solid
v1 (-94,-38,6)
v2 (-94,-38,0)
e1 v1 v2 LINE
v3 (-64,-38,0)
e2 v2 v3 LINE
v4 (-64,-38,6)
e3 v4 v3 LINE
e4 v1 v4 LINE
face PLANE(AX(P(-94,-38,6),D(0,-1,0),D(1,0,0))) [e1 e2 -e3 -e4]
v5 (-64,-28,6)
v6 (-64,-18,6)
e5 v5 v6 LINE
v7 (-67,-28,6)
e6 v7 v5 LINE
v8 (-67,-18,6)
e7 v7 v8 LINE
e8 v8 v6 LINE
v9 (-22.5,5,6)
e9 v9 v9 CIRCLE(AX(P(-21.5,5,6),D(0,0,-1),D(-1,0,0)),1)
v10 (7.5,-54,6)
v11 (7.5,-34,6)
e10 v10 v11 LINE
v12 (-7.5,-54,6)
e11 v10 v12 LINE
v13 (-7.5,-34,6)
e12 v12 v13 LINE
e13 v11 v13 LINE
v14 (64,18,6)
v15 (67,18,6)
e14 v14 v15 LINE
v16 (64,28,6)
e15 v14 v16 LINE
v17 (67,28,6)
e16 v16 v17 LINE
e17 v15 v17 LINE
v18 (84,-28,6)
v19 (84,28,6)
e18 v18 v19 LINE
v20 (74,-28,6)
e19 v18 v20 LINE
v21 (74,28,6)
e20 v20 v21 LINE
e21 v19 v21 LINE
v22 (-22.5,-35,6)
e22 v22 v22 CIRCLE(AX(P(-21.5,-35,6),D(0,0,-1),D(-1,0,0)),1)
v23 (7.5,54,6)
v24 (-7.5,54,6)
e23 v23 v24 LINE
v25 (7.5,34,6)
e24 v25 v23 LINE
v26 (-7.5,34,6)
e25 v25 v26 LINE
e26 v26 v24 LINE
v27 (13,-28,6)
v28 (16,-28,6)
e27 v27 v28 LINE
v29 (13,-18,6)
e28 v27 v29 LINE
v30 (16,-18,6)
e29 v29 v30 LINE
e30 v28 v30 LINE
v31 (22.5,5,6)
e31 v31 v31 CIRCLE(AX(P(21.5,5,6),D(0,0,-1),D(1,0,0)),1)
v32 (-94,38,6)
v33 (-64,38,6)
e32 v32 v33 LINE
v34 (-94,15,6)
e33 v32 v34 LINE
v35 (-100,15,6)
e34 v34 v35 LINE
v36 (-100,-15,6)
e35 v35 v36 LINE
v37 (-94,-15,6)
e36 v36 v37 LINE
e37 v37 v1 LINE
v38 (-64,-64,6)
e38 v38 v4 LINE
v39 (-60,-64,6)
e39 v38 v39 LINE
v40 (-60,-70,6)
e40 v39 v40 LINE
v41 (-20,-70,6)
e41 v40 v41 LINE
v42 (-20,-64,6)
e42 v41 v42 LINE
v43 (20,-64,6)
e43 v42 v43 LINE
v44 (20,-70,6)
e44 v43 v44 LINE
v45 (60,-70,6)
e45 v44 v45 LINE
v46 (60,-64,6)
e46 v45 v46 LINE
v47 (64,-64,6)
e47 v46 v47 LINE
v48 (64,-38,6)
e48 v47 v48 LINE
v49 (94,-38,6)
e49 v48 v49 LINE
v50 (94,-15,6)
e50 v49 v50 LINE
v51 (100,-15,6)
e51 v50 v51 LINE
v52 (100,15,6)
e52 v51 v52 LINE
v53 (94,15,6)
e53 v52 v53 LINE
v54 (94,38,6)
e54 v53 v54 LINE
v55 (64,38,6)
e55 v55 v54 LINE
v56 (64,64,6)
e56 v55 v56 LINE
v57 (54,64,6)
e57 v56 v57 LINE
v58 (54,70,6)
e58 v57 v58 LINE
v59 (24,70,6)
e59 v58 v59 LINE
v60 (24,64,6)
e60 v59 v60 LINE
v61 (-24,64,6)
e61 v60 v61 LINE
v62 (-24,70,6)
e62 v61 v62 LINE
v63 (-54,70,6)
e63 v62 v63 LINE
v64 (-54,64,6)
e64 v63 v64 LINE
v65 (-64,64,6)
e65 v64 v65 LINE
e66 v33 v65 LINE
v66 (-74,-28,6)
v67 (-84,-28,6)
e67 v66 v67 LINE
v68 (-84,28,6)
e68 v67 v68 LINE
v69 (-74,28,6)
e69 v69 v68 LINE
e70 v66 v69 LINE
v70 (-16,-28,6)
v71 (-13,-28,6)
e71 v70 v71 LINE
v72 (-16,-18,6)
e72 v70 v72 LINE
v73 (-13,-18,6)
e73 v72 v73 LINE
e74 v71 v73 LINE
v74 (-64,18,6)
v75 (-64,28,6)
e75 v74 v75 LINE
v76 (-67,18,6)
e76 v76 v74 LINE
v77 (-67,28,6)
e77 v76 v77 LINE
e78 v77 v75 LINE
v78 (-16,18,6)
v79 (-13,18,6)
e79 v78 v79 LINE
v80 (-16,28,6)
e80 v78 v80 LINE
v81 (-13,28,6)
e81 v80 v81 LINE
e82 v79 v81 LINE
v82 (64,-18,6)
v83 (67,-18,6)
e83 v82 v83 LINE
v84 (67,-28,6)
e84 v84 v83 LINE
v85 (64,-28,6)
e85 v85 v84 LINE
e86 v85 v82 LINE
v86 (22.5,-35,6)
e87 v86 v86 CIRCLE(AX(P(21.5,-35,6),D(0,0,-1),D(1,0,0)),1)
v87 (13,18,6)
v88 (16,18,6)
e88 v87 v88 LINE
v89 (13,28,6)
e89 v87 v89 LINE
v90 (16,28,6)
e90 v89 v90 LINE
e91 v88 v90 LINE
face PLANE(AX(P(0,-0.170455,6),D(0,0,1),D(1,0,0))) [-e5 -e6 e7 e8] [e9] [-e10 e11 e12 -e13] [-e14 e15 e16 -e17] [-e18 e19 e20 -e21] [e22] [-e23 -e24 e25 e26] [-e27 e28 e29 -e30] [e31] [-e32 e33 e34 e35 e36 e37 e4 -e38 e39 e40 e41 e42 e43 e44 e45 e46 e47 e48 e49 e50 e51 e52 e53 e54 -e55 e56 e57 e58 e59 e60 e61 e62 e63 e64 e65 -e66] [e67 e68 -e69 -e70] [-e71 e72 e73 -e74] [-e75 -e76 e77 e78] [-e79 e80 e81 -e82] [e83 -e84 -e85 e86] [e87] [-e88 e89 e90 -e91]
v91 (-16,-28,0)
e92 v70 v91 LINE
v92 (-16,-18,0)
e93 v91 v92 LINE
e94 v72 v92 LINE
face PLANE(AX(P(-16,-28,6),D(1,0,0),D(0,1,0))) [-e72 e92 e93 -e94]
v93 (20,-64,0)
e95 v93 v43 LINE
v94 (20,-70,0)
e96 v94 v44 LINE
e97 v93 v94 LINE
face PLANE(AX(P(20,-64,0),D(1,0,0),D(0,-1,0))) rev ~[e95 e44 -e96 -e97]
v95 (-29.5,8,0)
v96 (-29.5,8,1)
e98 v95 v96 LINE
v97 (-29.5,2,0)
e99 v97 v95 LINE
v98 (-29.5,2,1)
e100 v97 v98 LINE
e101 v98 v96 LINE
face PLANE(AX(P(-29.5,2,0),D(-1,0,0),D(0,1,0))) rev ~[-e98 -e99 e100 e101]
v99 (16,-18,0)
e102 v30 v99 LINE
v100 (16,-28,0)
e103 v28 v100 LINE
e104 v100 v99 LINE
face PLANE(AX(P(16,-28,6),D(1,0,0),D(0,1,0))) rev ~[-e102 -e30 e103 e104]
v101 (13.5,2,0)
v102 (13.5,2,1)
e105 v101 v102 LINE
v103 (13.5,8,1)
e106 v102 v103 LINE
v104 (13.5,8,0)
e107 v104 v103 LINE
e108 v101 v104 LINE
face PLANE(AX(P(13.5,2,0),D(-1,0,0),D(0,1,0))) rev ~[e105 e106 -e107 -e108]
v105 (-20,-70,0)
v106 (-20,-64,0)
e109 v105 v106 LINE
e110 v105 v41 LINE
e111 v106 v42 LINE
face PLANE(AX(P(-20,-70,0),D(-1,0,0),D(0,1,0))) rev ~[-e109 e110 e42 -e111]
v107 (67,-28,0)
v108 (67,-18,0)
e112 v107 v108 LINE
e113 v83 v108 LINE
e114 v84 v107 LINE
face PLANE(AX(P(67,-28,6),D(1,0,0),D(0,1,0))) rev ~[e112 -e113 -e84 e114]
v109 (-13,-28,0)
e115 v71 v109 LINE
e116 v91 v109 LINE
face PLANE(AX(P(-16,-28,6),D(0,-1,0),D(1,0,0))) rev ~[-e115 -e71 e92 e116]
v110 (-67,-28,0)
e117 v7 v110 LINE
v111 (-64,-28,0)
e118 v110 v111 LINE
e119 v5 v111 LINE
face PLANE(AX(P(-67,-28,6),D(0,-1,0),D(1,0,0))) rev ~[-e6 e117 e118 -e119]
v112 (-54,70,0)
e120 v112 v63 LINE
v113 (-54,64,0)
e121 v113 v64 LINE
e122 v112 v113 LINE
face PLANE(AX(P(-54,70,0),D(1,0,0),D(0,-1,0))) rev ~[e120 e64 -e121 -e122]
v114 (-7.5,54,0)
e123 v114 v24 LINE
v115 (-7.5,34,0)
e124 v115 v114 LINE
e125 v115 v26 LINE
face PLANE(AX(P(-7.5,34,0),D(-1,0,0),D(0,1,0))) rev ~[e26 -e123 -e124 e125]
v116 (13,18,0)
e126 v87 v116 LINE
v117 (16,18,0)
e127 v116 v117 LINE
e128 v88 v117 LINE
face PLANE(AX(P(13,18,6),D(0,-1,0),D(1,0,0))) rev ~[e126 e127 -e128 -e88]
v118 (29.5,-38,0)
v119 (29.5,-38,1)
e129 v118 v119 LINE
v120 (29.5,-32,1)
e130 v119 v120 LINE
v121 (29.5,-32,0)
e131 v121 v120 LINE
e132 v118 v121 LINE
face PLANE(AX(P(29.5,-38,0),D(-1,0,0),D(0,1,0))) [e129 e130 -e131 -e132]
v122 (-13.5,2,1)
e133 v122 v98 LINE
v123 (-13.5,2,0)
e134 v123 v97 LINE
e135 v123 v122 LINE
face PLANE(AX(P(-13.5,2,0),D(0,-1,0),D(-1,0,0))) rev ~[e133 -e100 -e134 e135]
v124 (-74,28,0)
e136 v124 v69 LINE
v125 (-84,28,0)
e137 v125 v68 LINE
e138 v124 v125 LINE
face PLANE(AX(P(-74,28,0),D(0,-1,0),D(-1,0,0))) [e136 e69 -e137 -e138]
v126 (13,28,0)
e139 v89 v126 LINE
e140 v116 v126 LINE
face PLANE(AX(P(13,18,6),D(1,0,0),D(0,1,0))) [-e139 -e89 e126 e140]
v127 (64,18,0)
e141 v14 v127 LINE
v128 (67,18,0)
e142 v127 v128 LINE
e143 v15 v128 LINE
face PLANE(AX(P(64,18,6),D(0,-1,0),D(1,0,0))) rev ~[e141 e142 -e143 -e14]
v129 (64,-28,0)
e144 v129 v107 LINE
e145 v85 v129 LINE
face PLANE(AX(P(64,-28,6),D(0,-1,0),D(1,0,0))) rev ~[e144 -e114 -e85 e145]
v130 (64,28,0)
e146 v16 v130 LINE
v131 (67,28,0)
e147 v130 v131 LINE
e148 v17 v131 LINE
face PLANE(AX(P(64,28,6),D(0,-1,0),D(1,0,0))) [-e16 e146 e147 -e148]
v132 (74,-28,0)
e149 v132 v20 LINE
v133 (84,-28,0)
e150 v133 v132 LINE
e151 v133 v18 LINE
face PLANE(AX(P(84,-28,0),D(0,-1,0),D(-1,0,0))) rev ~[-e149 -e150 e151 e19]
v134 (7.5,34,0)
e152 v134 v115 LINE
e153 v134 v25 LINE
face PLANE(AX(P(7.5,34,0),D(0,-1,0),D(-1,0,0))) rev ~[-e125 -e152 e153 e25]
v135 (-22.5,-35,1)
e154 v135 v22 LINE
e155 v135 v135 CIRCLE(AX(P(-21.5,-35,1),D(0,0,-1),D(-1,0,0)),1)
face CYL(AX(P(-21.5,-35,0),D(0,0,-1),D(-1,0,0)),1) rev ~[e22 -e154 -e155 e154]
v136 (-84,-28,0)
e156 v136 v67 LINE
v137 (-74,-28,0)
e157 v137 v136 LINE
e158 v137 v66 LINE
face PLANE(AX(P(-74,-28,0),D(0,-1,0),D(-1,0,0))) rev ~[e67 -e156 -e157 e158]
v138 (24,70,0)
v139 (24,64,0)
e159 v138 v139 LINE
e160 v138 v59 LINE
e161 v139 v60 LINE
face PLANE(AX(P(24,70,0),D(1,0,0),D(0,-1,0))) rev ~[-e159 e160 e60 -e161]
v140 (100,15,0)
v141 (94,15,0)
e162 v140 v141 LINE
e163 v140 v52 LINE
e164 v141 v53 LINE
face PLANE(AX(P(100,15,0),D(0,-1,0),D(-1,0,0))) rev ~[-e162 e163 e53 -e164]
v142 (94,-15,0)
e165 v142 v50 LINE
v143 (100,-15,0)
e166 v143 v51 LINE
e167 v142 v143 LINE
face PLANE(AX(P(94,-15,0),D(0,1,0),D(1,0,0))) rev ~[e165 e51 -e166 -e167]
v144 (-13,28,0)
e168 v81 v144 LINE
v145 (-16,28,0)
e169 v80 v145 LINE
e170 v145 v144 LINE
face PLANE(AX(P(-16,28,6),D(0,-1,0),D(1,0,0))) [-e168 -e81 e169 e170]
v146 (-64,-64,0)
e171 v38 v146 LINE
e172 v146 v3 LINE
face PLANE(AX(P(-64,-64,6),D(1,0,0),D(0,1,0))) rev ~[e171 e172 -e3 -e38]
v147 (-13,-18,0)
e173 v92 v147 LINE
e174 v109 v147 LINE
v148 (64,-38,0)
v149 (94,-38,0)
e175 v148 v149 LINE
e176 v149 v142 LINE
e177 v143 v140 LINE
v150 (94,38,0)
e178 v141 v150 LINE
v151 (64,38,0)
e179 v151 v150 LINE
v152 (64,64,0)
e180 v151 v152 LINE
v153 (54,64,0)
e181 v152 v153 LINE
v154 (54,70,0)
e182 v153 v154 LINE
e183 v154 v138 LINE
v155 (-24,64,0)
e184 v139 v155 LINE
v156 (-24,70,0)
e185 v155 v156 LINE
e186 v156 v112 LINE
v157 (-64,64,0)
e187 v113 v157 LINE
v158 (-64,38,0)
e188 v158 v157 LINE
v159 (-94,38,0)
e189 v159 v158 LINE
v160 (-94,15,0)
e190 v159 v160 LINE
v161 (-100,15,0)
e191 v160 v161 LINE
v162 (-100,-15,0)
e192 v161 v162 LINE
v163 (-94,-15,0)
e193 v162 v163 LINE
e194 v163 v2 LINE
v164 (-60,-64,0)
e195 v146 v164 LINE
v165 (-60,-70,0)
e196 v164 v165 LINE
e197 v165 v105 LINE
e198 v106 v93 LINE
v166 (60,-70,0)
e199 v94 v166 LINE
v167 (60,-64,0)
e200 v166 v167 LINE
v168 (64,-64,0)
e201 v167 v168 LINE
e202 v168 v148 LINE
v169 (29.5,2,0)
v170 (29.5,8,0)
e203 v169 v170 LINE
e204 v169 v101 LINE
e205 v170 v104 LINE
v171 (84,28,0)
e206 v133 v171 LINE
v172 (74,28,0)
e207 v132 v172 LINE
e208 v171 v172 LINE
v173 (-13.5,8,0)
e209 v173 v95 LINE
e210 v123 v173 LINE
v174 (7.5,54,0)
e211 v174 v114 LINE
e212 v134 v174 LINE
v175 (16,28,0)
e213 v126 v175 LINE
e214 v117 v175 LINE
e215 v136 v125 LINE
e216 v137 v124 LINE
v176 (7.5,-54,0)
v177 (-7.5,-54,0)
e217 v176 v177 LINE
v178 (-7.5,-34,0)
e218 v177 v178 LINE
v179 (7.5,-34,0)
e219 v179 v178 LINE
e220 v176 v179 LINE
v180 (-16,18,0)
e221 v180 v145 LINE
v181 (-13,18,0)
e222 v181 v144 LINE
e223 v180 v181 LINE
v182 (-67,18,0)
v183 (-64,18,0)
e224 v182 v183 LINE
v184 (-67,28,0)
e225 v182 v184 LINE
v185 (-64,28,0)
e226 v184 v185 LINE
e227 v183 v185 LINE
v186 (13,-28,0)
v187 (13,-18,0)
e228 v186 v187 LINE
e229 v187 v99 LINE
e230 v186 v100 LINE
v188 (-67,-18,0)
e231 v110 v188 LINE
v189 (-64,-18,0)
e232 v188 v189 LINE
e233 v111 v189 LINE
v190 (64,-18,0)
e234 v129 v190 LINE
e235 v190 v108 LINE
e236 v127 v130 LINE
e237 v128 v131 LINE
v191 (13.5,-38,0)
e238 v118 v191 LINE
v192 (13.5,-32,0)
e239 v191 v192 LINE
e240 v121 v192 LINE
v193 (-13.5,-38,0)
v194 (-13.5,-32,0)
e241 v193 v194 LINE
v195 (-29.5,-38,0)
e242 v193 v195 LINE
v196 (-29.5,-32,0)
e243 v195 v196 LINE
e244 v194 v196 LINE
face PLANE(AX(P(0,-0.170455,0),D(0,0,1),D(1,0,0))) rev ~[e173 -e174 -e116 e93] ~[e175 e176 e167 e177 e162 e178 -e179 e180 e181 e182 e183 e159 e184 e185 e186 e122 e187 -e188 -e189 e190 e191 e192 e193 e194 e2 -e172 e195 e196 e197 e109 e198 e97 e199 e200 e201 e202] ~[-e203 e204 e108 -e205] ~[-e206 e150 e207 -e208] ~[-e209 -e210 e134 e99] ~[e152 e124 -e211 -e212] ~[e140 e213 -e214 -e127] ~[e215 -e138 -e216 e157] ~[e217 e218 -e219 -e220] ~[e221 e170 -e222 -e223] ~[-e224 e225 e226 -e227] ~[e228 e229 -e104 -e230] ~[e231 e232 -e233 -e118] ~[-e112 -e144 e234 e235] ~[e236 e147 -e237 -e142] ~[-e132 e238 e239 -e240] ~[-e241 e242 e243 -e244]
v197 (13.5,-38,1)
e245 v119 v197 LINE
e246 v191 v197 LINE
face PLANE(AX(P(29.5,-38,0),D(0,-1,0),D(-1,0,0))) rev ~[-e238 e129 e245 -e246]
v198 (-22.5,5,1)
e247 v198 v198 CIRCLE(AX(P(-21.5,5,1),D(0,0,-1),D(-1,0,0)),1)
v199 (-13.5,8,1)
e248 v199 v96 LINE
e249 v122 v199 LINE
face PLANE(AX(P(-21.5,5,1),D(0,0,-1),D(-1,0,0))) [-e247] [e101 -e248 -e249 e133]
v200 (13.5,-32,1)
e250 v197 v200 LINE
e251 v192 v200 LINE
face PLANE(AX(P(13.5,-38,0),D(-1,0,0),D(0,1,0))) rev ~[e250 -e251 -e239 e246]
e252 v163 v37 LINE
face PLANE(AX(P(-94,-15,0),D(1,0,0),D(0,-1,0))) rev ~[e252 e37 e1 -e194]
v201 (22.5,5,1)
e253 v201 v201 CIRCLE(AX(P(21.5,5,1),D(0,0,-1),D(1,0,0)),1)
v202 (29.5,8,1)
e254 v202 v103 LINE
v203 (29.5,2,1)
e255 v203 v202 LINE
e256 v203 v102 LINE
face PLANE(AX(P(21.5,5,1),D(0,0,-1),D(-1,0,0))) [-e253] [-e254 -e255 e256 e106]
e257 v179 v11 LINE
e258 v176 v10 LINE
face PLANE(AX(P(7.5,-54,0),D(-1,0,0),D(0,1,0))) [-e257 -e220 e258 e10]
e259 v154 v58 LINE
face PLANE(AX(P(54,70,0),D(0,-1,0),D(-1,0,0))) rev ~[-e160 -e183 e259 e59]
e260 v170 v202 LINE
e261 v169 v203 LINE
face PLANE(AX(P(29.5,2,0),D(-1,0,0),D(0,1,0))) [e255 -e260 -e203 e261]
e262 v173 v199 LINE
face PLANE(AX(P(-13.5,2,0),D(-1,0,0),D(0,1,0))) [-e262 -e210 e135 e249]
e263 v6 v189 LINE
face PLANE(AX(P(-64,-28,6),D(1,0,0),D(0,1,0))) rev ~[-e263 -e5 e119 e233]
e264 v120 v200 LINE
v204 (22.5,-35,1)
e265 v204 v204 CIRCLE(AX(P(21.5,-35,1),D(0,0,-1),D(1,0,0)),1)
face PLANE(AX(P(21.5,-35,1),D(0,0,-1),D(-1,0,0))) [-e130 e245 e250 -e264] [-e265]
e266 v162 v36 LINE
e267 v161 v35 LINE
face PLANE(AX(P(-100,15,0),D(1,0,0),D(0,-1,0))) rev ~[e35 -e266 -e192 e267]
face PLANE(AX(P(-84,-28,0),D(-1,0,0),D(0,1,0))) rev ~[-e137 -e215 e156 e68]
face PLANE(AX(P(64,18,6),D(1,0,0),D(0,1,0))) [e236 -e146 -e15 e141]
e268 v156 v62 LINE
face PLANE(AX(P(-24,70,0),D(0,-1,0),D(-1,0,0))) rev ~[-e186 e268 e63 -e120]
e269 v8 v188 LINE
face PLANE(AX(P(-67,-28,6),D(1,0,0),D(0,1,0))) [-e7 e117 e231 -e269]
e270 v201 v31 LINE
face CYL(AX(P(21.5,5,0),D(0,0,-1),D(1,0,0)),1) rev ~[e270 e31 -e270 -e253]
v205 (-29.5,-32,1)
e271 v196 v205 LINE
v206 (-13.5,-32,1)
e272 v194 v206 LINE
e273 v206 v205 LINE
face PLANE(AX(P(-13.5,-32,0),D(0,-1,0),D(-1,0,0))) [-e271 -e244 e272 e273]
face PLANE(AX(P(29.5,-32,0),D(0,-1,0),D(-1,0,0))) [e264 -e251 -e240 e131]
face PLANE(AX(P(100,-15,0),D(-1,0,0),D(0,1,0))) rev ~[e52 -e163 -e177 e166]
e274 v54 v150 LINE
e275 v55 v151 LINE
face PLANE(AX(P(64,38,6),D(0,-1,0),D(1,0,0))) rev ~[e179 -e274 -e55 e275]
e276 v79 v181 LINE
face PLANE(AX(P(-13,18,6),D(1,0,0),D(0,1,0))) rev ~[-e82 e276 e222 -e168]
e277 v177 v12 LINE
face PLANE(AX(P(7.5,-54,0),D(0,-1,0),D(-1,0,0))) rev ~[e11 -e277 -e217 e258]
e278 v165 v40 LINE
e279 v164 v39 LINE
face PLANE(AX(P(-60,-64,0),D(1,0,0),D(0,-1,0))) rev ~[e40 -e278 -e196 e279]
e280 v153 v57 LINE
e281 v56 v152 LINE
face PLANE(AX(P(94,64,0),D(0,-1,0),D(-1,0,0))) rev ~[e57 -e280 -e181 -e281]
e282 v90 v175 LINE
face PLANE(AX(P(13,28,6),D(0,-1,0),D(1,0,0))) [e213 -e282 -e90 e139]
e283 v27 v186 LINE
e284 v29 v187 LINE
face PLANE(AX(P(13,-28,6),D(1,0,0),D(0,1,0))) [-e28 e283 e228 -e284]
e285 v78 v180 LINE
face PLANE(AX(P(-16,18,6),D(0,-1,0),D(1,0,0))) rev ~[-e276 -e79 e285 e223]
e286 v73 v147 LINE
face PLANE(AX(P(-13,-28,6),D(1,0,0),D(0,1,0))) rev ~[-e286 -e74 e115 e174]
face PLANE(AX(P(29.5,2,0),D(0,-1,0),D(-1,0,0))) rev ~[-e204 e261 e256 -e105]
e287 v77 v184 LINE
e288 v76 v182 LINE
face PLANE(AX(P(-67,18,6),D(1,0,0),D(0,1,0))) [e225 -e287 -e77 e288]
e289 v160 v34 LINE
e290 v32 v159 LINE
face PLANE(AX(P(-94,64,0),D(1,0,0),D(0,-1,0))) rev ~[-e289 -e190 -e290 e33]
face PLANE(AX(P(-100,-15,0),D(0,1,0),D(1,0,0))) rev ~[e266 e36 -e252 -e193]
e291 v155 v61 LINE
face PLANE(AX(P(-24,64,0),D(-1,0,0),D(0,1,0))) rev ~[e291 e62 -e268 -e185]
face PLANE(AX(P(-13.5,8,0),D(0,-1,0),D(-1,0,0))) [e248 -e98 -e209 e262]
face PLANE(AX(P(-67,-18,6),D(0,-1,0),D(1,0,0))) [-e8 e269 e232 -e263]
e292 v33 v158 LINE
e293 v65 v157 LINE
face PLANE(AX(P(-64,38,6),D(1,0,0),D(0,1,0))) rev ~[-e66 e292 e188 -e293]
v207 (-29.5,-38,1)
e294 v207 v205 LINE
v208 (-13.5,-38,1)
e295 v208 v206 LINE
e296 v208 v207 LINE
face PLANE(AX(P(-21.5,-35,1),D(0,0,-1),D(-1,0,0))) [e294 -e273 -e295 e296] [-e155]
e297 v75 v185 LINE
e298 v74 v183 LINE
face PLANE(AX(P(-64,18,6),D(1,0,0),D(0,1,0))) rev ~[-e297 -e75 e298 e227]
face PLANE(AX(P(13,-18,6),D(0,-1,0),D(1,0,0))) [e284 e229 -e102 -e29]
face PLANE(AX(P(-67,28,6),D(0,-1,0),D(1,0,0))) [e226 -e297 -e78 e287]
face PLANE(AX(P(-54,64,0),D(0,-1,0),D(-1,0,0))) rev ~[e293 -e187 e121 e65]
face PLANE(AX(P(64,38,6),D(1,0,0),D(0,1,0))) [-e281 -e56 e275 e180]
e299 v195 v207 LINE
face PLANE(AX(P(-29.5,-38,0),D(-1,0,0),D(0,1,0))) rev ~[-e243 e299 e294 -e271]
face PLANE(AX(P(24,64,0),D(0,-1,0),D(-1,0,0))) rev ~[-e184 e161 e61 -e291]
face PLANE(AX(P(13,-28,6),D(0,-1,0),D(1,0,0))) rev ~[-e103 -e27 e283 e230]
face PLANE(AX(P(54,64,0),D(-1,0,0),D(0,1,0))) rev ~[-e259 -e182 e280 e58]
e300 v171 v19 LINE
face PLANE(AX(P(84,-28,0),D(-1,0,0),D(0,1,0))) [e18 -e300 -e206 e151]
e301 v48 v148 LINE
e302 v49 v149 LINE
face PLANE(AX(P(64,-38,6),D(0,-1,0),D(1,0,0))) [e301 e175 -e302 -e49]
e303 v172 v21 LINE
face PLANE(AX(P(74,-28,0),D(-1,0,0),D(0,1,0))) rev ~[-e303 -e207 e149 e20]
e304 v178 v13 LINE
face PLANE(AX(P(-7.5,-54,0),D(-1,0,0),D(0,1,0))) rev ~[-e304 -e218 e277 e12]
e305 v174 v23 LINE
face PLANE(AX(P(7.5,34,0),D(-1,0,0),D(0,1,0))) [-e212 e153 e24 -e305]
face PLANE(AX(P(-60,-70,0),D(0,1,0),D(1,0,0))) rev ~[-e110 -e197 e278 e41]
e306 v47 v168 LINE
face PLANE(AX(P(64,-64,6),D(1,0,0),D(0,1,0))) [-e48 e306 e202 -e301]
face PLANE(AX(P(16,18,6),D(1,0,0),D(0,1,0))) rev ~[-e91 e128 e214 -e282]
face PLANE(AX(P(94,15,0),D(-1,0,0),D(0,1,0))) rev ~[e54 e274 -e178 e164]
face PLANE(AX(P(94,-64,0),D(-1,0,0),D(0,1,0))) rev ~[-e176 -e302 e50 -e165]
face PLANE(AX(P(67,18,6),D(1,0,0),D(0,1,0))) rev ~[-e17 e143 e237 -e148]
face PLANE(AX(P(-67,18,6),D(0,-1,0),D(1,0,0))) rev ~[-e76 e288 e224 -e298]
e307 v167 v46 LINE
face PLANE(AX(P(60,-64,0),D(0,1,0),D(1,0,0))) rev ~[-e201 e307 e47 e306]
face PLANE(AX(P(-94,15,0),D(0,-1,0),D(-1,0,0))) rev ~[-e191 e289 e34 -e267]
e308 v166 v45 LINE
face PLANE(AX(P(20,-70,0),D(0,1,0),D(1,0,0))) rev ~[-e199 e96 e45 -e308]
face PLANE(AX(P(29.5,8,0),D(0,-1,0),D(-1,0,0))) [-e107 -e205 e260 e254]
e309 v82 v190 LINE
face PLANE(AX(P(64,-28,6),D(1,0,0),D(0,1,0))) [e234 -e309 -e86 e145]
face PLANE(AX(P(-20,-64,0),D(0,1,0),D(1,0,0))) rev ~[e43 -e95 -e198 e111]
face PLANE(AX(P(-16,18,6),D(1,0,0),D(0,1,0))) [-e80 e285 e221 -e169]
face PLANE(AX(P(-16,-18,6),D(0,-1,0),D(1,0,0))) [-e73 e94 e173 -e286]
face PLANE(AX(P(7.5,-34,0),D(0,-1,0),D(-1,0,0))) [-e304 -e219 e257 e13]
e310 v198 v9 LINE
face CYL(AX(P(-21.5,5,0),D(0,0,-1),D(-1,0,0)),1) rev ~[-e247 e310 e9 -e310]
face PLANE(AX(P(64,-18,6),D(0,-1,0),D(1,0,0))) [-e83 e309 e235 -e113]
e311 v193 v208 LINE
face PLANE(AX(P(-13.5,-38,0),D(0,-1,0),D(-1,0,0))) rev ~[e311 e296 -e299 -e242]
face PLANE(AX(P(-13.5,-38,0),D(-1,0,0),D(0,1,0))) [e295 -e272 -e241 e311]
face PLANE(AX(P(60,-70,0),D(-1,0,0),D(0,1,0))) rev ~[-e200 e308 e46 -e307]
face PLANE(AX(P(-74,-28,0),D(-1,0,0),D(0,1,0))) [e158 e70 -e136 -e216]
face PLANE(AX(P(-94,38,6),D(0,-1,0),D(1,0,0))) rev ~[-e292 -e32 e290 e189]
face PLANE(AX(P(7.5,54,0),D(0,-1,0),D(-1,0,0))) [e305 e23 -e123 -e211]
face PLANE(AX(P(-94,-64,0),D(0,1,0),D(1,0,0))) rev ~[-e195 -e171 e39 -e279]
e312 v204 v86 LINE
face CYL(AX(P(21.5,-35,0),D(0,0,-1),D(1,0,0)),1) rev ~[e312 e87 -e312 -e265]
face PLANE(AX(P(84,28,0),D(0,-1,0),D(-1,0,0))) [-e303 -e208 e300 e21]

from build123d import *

# Parameters (mm, degrees)
BOSS_EXTRU_3_DEPTH      = 6
ESQUISSE2_W             = 3
ESQUISSE2_H             = 10
ENL_V_MAT_EXTRU_1_DEPTH = 10
ESQUISSE3_W             = 30
ESQUISSE3_H             = 26
ENL_V_MAT_EXTRU_2_DEPTH = 6
ESQUISSE4_W             = 15
ESQUISSE4_H             = 20
ENL_V_MAT_EXTRU_3_DEPTH = 6
ESQUISSE5_W             = 10
ESQUISSE5_H             = 56
ENL_V_MAT_EXTRU_4_DEPTH = 6
ESQUISSE6_R             = 1
ENL_V_MAT_EXTRU_5_DEPTH = 123.21292894
ESQUISSE7_W             = 16
ESQUISSE7_H             = 6
ENL_V_MAT_EXTRU_6_DEPTH = 1


with BuildPart() as part:
    # Esquisse1 → Boss.-Extru.3 (new body)
    with BuildSketch(Plane.XY):
        Polygon((-94, 64), (-94, 15), (-100, 15), (-100, -15), (-94, -15), (-94, -64), (-60, -64), (-60, -70), (-20, -70), (-20, -64), (20, -64), (20, -70), (60, -70), (60, -64), (94, -64), (94, -15), (100, -15), (100, 15), (94, 15), (94, 64), (54, 64), (54, 70), (24, 70), (24, 64), (-24, 64), (-24, 70), (-54, 70), (-54, 64), align=None)
    extrude(amount=BOSS_EXTRU_3_DEPTH)

    # Esquisse2 → Enlèv. mat.-Extru.1 (cut)
    with BuildSketch(Plane.XY.offset(6)):
        with Locations((-65.5, -23)):
            Rectangle(ESQUISSE2_W, ESQUISSE2_H)
        with Locations((-65.5, 23)):
            Rectangle(ESQUISSE2_W, ESQUISSE2_H)
        with Locations((-14.5, -23)):
            Rectangle(ESQUISSE2_W, ESQUISSE2_H)
        with Locations((-14.5, 23)):
            Rectangle(ESQUISSE2_W, ESQUISSE2_H)
        with Locations((65.5, -23)):
            Rectangle(ESQUISSE2_W, ESQUISSE2_H)
        with Locations((14.5, 23)):
            Rectangle(ESQUISSE2_W, ESQUISSE2_H)
        with Locations((14.5, -23)):
            Rectangle(ESQUISSE2_W, ESQUISSE2_H)
        with Locations((65.5, 23)):
            Rectangle(ESQUISSE2_W, ESQUISSE2_H)
    extrude(amount=-ENL_V_MAT_EXTRU_1_DEPTH, mode=Mode.SUBTRACT)

    # Esquisse3 → Enlèv. mat.-Extru.2 (cut)
    with BuildSketch(Plane.XY.offset(6)):
        with Locations((79, -51)):
            Rectangle(ESQUISSE3_W, ESQUISSE3_H)
        with Locations((-79, -51)):
            Rectangle(ESQUISSE3_W, ESQUISSE3_H)
        with Locations((-79, 51)):
            Rectangle(ESQUISSE3_W, ESQUISSE3_H)
        with Locations((79, 51)):
            Rectangle(ESQUISSE3_W, ESQUISSE3_H)
    extrude(amount=-ENL_V_MAT_EXTRU_2_DEPTH, mode=Mode.SUBTRACT)

    # Esquisse4 → Enlèv. mat.-Extru.3 (cut)
    with BuildSketch(Plane(origin=(0, 0, 0), x_dir=(-1, 0, 0), z_dir=(0, 0, -1))):
        with Locations((0, -44)):
            Rectangle(ESQUISSE4_W, ESQUISSE4_H)
        with Locations((0, 44)):
            Rectangle(ESQUISSE4_W, ESQUISSE4_H)
    extrude(amount=-ENL_V_MAT_EXTRU_3_DEPTH, mode=Mode.SUBTRACT)

    # Esquisse5 → Enlèv. mat.-Extru.4 (cut)
    with BuildSketch(Plane(origin=(0, 0, 0), x_dir=(-1, 0, 0), z_dir=(0, 0, -1))):
        with Locations((-79, 0)):
            Rectangle(ESQUISSE5_W, ESQUISSE5_H)
        with Locations((79, 0)):
            Rectangle(ESQUISSE5_W, ESQUISSE5_H)
    extrude(amount=-ENL_V_MAT_EXTRU_4_DEPTH, mode=Mode.SUBTRACT)

    # Esquisse6 → Enlèv. mat.-Extru.5 (cut, through all)
    with BuildSketch(Plane(origin=(0, 0, 0), x_dir=(-1, 0, 0), z_dir=(0, 0, -1))):
        with Locations((21.5, -35)):
            Circle(ESQUISSE6_R)
        with Locations((21.5, 5)):
            Circle(ESQUISSE6_R)
        with Locations(Location((-21.5, 5, 0), (0, 0, 180))):
            Circle(ESQUISSE6_R)
        with Locations(Location((-21.5, -35, 0), (0, 0, 180))):
            Circle(ESQUISSE6_R)
    extrude(amount=-ENL_V_MAT_EXTRU_5_DEPTH, mode=Mode.SUBTRACT)

    # Esquisse7 → Enlèv. mat.-Extru.6 (cut)
    with BuildSketch(Plane(origin=(0, 0, 0), x_dir=(-1, 0, 0), z_dir=(0, 0, -1))):
        with Locations((21.5, -35)):
            Rectangle(ESQUISSE7_W, ESQUISSE7_H)
        with Locations((21.5, 5)):
            Rectangle(ESQUISSE7_W, ESQUISSE7_H)
        with Locations((-21.5, 5)):
            Rectangle(ESQUISSE7_W, ESQUISSE7_H)
        with Locations((-21.5, -35)):
            Rectangle(ESQUISSE7_W, ESQUISSE7_H)
    extrude(amount=-ENL_V_MAT_EXTRU_6_DEPTH, mode=Mode.SUBTRACT)


solid = part.part
